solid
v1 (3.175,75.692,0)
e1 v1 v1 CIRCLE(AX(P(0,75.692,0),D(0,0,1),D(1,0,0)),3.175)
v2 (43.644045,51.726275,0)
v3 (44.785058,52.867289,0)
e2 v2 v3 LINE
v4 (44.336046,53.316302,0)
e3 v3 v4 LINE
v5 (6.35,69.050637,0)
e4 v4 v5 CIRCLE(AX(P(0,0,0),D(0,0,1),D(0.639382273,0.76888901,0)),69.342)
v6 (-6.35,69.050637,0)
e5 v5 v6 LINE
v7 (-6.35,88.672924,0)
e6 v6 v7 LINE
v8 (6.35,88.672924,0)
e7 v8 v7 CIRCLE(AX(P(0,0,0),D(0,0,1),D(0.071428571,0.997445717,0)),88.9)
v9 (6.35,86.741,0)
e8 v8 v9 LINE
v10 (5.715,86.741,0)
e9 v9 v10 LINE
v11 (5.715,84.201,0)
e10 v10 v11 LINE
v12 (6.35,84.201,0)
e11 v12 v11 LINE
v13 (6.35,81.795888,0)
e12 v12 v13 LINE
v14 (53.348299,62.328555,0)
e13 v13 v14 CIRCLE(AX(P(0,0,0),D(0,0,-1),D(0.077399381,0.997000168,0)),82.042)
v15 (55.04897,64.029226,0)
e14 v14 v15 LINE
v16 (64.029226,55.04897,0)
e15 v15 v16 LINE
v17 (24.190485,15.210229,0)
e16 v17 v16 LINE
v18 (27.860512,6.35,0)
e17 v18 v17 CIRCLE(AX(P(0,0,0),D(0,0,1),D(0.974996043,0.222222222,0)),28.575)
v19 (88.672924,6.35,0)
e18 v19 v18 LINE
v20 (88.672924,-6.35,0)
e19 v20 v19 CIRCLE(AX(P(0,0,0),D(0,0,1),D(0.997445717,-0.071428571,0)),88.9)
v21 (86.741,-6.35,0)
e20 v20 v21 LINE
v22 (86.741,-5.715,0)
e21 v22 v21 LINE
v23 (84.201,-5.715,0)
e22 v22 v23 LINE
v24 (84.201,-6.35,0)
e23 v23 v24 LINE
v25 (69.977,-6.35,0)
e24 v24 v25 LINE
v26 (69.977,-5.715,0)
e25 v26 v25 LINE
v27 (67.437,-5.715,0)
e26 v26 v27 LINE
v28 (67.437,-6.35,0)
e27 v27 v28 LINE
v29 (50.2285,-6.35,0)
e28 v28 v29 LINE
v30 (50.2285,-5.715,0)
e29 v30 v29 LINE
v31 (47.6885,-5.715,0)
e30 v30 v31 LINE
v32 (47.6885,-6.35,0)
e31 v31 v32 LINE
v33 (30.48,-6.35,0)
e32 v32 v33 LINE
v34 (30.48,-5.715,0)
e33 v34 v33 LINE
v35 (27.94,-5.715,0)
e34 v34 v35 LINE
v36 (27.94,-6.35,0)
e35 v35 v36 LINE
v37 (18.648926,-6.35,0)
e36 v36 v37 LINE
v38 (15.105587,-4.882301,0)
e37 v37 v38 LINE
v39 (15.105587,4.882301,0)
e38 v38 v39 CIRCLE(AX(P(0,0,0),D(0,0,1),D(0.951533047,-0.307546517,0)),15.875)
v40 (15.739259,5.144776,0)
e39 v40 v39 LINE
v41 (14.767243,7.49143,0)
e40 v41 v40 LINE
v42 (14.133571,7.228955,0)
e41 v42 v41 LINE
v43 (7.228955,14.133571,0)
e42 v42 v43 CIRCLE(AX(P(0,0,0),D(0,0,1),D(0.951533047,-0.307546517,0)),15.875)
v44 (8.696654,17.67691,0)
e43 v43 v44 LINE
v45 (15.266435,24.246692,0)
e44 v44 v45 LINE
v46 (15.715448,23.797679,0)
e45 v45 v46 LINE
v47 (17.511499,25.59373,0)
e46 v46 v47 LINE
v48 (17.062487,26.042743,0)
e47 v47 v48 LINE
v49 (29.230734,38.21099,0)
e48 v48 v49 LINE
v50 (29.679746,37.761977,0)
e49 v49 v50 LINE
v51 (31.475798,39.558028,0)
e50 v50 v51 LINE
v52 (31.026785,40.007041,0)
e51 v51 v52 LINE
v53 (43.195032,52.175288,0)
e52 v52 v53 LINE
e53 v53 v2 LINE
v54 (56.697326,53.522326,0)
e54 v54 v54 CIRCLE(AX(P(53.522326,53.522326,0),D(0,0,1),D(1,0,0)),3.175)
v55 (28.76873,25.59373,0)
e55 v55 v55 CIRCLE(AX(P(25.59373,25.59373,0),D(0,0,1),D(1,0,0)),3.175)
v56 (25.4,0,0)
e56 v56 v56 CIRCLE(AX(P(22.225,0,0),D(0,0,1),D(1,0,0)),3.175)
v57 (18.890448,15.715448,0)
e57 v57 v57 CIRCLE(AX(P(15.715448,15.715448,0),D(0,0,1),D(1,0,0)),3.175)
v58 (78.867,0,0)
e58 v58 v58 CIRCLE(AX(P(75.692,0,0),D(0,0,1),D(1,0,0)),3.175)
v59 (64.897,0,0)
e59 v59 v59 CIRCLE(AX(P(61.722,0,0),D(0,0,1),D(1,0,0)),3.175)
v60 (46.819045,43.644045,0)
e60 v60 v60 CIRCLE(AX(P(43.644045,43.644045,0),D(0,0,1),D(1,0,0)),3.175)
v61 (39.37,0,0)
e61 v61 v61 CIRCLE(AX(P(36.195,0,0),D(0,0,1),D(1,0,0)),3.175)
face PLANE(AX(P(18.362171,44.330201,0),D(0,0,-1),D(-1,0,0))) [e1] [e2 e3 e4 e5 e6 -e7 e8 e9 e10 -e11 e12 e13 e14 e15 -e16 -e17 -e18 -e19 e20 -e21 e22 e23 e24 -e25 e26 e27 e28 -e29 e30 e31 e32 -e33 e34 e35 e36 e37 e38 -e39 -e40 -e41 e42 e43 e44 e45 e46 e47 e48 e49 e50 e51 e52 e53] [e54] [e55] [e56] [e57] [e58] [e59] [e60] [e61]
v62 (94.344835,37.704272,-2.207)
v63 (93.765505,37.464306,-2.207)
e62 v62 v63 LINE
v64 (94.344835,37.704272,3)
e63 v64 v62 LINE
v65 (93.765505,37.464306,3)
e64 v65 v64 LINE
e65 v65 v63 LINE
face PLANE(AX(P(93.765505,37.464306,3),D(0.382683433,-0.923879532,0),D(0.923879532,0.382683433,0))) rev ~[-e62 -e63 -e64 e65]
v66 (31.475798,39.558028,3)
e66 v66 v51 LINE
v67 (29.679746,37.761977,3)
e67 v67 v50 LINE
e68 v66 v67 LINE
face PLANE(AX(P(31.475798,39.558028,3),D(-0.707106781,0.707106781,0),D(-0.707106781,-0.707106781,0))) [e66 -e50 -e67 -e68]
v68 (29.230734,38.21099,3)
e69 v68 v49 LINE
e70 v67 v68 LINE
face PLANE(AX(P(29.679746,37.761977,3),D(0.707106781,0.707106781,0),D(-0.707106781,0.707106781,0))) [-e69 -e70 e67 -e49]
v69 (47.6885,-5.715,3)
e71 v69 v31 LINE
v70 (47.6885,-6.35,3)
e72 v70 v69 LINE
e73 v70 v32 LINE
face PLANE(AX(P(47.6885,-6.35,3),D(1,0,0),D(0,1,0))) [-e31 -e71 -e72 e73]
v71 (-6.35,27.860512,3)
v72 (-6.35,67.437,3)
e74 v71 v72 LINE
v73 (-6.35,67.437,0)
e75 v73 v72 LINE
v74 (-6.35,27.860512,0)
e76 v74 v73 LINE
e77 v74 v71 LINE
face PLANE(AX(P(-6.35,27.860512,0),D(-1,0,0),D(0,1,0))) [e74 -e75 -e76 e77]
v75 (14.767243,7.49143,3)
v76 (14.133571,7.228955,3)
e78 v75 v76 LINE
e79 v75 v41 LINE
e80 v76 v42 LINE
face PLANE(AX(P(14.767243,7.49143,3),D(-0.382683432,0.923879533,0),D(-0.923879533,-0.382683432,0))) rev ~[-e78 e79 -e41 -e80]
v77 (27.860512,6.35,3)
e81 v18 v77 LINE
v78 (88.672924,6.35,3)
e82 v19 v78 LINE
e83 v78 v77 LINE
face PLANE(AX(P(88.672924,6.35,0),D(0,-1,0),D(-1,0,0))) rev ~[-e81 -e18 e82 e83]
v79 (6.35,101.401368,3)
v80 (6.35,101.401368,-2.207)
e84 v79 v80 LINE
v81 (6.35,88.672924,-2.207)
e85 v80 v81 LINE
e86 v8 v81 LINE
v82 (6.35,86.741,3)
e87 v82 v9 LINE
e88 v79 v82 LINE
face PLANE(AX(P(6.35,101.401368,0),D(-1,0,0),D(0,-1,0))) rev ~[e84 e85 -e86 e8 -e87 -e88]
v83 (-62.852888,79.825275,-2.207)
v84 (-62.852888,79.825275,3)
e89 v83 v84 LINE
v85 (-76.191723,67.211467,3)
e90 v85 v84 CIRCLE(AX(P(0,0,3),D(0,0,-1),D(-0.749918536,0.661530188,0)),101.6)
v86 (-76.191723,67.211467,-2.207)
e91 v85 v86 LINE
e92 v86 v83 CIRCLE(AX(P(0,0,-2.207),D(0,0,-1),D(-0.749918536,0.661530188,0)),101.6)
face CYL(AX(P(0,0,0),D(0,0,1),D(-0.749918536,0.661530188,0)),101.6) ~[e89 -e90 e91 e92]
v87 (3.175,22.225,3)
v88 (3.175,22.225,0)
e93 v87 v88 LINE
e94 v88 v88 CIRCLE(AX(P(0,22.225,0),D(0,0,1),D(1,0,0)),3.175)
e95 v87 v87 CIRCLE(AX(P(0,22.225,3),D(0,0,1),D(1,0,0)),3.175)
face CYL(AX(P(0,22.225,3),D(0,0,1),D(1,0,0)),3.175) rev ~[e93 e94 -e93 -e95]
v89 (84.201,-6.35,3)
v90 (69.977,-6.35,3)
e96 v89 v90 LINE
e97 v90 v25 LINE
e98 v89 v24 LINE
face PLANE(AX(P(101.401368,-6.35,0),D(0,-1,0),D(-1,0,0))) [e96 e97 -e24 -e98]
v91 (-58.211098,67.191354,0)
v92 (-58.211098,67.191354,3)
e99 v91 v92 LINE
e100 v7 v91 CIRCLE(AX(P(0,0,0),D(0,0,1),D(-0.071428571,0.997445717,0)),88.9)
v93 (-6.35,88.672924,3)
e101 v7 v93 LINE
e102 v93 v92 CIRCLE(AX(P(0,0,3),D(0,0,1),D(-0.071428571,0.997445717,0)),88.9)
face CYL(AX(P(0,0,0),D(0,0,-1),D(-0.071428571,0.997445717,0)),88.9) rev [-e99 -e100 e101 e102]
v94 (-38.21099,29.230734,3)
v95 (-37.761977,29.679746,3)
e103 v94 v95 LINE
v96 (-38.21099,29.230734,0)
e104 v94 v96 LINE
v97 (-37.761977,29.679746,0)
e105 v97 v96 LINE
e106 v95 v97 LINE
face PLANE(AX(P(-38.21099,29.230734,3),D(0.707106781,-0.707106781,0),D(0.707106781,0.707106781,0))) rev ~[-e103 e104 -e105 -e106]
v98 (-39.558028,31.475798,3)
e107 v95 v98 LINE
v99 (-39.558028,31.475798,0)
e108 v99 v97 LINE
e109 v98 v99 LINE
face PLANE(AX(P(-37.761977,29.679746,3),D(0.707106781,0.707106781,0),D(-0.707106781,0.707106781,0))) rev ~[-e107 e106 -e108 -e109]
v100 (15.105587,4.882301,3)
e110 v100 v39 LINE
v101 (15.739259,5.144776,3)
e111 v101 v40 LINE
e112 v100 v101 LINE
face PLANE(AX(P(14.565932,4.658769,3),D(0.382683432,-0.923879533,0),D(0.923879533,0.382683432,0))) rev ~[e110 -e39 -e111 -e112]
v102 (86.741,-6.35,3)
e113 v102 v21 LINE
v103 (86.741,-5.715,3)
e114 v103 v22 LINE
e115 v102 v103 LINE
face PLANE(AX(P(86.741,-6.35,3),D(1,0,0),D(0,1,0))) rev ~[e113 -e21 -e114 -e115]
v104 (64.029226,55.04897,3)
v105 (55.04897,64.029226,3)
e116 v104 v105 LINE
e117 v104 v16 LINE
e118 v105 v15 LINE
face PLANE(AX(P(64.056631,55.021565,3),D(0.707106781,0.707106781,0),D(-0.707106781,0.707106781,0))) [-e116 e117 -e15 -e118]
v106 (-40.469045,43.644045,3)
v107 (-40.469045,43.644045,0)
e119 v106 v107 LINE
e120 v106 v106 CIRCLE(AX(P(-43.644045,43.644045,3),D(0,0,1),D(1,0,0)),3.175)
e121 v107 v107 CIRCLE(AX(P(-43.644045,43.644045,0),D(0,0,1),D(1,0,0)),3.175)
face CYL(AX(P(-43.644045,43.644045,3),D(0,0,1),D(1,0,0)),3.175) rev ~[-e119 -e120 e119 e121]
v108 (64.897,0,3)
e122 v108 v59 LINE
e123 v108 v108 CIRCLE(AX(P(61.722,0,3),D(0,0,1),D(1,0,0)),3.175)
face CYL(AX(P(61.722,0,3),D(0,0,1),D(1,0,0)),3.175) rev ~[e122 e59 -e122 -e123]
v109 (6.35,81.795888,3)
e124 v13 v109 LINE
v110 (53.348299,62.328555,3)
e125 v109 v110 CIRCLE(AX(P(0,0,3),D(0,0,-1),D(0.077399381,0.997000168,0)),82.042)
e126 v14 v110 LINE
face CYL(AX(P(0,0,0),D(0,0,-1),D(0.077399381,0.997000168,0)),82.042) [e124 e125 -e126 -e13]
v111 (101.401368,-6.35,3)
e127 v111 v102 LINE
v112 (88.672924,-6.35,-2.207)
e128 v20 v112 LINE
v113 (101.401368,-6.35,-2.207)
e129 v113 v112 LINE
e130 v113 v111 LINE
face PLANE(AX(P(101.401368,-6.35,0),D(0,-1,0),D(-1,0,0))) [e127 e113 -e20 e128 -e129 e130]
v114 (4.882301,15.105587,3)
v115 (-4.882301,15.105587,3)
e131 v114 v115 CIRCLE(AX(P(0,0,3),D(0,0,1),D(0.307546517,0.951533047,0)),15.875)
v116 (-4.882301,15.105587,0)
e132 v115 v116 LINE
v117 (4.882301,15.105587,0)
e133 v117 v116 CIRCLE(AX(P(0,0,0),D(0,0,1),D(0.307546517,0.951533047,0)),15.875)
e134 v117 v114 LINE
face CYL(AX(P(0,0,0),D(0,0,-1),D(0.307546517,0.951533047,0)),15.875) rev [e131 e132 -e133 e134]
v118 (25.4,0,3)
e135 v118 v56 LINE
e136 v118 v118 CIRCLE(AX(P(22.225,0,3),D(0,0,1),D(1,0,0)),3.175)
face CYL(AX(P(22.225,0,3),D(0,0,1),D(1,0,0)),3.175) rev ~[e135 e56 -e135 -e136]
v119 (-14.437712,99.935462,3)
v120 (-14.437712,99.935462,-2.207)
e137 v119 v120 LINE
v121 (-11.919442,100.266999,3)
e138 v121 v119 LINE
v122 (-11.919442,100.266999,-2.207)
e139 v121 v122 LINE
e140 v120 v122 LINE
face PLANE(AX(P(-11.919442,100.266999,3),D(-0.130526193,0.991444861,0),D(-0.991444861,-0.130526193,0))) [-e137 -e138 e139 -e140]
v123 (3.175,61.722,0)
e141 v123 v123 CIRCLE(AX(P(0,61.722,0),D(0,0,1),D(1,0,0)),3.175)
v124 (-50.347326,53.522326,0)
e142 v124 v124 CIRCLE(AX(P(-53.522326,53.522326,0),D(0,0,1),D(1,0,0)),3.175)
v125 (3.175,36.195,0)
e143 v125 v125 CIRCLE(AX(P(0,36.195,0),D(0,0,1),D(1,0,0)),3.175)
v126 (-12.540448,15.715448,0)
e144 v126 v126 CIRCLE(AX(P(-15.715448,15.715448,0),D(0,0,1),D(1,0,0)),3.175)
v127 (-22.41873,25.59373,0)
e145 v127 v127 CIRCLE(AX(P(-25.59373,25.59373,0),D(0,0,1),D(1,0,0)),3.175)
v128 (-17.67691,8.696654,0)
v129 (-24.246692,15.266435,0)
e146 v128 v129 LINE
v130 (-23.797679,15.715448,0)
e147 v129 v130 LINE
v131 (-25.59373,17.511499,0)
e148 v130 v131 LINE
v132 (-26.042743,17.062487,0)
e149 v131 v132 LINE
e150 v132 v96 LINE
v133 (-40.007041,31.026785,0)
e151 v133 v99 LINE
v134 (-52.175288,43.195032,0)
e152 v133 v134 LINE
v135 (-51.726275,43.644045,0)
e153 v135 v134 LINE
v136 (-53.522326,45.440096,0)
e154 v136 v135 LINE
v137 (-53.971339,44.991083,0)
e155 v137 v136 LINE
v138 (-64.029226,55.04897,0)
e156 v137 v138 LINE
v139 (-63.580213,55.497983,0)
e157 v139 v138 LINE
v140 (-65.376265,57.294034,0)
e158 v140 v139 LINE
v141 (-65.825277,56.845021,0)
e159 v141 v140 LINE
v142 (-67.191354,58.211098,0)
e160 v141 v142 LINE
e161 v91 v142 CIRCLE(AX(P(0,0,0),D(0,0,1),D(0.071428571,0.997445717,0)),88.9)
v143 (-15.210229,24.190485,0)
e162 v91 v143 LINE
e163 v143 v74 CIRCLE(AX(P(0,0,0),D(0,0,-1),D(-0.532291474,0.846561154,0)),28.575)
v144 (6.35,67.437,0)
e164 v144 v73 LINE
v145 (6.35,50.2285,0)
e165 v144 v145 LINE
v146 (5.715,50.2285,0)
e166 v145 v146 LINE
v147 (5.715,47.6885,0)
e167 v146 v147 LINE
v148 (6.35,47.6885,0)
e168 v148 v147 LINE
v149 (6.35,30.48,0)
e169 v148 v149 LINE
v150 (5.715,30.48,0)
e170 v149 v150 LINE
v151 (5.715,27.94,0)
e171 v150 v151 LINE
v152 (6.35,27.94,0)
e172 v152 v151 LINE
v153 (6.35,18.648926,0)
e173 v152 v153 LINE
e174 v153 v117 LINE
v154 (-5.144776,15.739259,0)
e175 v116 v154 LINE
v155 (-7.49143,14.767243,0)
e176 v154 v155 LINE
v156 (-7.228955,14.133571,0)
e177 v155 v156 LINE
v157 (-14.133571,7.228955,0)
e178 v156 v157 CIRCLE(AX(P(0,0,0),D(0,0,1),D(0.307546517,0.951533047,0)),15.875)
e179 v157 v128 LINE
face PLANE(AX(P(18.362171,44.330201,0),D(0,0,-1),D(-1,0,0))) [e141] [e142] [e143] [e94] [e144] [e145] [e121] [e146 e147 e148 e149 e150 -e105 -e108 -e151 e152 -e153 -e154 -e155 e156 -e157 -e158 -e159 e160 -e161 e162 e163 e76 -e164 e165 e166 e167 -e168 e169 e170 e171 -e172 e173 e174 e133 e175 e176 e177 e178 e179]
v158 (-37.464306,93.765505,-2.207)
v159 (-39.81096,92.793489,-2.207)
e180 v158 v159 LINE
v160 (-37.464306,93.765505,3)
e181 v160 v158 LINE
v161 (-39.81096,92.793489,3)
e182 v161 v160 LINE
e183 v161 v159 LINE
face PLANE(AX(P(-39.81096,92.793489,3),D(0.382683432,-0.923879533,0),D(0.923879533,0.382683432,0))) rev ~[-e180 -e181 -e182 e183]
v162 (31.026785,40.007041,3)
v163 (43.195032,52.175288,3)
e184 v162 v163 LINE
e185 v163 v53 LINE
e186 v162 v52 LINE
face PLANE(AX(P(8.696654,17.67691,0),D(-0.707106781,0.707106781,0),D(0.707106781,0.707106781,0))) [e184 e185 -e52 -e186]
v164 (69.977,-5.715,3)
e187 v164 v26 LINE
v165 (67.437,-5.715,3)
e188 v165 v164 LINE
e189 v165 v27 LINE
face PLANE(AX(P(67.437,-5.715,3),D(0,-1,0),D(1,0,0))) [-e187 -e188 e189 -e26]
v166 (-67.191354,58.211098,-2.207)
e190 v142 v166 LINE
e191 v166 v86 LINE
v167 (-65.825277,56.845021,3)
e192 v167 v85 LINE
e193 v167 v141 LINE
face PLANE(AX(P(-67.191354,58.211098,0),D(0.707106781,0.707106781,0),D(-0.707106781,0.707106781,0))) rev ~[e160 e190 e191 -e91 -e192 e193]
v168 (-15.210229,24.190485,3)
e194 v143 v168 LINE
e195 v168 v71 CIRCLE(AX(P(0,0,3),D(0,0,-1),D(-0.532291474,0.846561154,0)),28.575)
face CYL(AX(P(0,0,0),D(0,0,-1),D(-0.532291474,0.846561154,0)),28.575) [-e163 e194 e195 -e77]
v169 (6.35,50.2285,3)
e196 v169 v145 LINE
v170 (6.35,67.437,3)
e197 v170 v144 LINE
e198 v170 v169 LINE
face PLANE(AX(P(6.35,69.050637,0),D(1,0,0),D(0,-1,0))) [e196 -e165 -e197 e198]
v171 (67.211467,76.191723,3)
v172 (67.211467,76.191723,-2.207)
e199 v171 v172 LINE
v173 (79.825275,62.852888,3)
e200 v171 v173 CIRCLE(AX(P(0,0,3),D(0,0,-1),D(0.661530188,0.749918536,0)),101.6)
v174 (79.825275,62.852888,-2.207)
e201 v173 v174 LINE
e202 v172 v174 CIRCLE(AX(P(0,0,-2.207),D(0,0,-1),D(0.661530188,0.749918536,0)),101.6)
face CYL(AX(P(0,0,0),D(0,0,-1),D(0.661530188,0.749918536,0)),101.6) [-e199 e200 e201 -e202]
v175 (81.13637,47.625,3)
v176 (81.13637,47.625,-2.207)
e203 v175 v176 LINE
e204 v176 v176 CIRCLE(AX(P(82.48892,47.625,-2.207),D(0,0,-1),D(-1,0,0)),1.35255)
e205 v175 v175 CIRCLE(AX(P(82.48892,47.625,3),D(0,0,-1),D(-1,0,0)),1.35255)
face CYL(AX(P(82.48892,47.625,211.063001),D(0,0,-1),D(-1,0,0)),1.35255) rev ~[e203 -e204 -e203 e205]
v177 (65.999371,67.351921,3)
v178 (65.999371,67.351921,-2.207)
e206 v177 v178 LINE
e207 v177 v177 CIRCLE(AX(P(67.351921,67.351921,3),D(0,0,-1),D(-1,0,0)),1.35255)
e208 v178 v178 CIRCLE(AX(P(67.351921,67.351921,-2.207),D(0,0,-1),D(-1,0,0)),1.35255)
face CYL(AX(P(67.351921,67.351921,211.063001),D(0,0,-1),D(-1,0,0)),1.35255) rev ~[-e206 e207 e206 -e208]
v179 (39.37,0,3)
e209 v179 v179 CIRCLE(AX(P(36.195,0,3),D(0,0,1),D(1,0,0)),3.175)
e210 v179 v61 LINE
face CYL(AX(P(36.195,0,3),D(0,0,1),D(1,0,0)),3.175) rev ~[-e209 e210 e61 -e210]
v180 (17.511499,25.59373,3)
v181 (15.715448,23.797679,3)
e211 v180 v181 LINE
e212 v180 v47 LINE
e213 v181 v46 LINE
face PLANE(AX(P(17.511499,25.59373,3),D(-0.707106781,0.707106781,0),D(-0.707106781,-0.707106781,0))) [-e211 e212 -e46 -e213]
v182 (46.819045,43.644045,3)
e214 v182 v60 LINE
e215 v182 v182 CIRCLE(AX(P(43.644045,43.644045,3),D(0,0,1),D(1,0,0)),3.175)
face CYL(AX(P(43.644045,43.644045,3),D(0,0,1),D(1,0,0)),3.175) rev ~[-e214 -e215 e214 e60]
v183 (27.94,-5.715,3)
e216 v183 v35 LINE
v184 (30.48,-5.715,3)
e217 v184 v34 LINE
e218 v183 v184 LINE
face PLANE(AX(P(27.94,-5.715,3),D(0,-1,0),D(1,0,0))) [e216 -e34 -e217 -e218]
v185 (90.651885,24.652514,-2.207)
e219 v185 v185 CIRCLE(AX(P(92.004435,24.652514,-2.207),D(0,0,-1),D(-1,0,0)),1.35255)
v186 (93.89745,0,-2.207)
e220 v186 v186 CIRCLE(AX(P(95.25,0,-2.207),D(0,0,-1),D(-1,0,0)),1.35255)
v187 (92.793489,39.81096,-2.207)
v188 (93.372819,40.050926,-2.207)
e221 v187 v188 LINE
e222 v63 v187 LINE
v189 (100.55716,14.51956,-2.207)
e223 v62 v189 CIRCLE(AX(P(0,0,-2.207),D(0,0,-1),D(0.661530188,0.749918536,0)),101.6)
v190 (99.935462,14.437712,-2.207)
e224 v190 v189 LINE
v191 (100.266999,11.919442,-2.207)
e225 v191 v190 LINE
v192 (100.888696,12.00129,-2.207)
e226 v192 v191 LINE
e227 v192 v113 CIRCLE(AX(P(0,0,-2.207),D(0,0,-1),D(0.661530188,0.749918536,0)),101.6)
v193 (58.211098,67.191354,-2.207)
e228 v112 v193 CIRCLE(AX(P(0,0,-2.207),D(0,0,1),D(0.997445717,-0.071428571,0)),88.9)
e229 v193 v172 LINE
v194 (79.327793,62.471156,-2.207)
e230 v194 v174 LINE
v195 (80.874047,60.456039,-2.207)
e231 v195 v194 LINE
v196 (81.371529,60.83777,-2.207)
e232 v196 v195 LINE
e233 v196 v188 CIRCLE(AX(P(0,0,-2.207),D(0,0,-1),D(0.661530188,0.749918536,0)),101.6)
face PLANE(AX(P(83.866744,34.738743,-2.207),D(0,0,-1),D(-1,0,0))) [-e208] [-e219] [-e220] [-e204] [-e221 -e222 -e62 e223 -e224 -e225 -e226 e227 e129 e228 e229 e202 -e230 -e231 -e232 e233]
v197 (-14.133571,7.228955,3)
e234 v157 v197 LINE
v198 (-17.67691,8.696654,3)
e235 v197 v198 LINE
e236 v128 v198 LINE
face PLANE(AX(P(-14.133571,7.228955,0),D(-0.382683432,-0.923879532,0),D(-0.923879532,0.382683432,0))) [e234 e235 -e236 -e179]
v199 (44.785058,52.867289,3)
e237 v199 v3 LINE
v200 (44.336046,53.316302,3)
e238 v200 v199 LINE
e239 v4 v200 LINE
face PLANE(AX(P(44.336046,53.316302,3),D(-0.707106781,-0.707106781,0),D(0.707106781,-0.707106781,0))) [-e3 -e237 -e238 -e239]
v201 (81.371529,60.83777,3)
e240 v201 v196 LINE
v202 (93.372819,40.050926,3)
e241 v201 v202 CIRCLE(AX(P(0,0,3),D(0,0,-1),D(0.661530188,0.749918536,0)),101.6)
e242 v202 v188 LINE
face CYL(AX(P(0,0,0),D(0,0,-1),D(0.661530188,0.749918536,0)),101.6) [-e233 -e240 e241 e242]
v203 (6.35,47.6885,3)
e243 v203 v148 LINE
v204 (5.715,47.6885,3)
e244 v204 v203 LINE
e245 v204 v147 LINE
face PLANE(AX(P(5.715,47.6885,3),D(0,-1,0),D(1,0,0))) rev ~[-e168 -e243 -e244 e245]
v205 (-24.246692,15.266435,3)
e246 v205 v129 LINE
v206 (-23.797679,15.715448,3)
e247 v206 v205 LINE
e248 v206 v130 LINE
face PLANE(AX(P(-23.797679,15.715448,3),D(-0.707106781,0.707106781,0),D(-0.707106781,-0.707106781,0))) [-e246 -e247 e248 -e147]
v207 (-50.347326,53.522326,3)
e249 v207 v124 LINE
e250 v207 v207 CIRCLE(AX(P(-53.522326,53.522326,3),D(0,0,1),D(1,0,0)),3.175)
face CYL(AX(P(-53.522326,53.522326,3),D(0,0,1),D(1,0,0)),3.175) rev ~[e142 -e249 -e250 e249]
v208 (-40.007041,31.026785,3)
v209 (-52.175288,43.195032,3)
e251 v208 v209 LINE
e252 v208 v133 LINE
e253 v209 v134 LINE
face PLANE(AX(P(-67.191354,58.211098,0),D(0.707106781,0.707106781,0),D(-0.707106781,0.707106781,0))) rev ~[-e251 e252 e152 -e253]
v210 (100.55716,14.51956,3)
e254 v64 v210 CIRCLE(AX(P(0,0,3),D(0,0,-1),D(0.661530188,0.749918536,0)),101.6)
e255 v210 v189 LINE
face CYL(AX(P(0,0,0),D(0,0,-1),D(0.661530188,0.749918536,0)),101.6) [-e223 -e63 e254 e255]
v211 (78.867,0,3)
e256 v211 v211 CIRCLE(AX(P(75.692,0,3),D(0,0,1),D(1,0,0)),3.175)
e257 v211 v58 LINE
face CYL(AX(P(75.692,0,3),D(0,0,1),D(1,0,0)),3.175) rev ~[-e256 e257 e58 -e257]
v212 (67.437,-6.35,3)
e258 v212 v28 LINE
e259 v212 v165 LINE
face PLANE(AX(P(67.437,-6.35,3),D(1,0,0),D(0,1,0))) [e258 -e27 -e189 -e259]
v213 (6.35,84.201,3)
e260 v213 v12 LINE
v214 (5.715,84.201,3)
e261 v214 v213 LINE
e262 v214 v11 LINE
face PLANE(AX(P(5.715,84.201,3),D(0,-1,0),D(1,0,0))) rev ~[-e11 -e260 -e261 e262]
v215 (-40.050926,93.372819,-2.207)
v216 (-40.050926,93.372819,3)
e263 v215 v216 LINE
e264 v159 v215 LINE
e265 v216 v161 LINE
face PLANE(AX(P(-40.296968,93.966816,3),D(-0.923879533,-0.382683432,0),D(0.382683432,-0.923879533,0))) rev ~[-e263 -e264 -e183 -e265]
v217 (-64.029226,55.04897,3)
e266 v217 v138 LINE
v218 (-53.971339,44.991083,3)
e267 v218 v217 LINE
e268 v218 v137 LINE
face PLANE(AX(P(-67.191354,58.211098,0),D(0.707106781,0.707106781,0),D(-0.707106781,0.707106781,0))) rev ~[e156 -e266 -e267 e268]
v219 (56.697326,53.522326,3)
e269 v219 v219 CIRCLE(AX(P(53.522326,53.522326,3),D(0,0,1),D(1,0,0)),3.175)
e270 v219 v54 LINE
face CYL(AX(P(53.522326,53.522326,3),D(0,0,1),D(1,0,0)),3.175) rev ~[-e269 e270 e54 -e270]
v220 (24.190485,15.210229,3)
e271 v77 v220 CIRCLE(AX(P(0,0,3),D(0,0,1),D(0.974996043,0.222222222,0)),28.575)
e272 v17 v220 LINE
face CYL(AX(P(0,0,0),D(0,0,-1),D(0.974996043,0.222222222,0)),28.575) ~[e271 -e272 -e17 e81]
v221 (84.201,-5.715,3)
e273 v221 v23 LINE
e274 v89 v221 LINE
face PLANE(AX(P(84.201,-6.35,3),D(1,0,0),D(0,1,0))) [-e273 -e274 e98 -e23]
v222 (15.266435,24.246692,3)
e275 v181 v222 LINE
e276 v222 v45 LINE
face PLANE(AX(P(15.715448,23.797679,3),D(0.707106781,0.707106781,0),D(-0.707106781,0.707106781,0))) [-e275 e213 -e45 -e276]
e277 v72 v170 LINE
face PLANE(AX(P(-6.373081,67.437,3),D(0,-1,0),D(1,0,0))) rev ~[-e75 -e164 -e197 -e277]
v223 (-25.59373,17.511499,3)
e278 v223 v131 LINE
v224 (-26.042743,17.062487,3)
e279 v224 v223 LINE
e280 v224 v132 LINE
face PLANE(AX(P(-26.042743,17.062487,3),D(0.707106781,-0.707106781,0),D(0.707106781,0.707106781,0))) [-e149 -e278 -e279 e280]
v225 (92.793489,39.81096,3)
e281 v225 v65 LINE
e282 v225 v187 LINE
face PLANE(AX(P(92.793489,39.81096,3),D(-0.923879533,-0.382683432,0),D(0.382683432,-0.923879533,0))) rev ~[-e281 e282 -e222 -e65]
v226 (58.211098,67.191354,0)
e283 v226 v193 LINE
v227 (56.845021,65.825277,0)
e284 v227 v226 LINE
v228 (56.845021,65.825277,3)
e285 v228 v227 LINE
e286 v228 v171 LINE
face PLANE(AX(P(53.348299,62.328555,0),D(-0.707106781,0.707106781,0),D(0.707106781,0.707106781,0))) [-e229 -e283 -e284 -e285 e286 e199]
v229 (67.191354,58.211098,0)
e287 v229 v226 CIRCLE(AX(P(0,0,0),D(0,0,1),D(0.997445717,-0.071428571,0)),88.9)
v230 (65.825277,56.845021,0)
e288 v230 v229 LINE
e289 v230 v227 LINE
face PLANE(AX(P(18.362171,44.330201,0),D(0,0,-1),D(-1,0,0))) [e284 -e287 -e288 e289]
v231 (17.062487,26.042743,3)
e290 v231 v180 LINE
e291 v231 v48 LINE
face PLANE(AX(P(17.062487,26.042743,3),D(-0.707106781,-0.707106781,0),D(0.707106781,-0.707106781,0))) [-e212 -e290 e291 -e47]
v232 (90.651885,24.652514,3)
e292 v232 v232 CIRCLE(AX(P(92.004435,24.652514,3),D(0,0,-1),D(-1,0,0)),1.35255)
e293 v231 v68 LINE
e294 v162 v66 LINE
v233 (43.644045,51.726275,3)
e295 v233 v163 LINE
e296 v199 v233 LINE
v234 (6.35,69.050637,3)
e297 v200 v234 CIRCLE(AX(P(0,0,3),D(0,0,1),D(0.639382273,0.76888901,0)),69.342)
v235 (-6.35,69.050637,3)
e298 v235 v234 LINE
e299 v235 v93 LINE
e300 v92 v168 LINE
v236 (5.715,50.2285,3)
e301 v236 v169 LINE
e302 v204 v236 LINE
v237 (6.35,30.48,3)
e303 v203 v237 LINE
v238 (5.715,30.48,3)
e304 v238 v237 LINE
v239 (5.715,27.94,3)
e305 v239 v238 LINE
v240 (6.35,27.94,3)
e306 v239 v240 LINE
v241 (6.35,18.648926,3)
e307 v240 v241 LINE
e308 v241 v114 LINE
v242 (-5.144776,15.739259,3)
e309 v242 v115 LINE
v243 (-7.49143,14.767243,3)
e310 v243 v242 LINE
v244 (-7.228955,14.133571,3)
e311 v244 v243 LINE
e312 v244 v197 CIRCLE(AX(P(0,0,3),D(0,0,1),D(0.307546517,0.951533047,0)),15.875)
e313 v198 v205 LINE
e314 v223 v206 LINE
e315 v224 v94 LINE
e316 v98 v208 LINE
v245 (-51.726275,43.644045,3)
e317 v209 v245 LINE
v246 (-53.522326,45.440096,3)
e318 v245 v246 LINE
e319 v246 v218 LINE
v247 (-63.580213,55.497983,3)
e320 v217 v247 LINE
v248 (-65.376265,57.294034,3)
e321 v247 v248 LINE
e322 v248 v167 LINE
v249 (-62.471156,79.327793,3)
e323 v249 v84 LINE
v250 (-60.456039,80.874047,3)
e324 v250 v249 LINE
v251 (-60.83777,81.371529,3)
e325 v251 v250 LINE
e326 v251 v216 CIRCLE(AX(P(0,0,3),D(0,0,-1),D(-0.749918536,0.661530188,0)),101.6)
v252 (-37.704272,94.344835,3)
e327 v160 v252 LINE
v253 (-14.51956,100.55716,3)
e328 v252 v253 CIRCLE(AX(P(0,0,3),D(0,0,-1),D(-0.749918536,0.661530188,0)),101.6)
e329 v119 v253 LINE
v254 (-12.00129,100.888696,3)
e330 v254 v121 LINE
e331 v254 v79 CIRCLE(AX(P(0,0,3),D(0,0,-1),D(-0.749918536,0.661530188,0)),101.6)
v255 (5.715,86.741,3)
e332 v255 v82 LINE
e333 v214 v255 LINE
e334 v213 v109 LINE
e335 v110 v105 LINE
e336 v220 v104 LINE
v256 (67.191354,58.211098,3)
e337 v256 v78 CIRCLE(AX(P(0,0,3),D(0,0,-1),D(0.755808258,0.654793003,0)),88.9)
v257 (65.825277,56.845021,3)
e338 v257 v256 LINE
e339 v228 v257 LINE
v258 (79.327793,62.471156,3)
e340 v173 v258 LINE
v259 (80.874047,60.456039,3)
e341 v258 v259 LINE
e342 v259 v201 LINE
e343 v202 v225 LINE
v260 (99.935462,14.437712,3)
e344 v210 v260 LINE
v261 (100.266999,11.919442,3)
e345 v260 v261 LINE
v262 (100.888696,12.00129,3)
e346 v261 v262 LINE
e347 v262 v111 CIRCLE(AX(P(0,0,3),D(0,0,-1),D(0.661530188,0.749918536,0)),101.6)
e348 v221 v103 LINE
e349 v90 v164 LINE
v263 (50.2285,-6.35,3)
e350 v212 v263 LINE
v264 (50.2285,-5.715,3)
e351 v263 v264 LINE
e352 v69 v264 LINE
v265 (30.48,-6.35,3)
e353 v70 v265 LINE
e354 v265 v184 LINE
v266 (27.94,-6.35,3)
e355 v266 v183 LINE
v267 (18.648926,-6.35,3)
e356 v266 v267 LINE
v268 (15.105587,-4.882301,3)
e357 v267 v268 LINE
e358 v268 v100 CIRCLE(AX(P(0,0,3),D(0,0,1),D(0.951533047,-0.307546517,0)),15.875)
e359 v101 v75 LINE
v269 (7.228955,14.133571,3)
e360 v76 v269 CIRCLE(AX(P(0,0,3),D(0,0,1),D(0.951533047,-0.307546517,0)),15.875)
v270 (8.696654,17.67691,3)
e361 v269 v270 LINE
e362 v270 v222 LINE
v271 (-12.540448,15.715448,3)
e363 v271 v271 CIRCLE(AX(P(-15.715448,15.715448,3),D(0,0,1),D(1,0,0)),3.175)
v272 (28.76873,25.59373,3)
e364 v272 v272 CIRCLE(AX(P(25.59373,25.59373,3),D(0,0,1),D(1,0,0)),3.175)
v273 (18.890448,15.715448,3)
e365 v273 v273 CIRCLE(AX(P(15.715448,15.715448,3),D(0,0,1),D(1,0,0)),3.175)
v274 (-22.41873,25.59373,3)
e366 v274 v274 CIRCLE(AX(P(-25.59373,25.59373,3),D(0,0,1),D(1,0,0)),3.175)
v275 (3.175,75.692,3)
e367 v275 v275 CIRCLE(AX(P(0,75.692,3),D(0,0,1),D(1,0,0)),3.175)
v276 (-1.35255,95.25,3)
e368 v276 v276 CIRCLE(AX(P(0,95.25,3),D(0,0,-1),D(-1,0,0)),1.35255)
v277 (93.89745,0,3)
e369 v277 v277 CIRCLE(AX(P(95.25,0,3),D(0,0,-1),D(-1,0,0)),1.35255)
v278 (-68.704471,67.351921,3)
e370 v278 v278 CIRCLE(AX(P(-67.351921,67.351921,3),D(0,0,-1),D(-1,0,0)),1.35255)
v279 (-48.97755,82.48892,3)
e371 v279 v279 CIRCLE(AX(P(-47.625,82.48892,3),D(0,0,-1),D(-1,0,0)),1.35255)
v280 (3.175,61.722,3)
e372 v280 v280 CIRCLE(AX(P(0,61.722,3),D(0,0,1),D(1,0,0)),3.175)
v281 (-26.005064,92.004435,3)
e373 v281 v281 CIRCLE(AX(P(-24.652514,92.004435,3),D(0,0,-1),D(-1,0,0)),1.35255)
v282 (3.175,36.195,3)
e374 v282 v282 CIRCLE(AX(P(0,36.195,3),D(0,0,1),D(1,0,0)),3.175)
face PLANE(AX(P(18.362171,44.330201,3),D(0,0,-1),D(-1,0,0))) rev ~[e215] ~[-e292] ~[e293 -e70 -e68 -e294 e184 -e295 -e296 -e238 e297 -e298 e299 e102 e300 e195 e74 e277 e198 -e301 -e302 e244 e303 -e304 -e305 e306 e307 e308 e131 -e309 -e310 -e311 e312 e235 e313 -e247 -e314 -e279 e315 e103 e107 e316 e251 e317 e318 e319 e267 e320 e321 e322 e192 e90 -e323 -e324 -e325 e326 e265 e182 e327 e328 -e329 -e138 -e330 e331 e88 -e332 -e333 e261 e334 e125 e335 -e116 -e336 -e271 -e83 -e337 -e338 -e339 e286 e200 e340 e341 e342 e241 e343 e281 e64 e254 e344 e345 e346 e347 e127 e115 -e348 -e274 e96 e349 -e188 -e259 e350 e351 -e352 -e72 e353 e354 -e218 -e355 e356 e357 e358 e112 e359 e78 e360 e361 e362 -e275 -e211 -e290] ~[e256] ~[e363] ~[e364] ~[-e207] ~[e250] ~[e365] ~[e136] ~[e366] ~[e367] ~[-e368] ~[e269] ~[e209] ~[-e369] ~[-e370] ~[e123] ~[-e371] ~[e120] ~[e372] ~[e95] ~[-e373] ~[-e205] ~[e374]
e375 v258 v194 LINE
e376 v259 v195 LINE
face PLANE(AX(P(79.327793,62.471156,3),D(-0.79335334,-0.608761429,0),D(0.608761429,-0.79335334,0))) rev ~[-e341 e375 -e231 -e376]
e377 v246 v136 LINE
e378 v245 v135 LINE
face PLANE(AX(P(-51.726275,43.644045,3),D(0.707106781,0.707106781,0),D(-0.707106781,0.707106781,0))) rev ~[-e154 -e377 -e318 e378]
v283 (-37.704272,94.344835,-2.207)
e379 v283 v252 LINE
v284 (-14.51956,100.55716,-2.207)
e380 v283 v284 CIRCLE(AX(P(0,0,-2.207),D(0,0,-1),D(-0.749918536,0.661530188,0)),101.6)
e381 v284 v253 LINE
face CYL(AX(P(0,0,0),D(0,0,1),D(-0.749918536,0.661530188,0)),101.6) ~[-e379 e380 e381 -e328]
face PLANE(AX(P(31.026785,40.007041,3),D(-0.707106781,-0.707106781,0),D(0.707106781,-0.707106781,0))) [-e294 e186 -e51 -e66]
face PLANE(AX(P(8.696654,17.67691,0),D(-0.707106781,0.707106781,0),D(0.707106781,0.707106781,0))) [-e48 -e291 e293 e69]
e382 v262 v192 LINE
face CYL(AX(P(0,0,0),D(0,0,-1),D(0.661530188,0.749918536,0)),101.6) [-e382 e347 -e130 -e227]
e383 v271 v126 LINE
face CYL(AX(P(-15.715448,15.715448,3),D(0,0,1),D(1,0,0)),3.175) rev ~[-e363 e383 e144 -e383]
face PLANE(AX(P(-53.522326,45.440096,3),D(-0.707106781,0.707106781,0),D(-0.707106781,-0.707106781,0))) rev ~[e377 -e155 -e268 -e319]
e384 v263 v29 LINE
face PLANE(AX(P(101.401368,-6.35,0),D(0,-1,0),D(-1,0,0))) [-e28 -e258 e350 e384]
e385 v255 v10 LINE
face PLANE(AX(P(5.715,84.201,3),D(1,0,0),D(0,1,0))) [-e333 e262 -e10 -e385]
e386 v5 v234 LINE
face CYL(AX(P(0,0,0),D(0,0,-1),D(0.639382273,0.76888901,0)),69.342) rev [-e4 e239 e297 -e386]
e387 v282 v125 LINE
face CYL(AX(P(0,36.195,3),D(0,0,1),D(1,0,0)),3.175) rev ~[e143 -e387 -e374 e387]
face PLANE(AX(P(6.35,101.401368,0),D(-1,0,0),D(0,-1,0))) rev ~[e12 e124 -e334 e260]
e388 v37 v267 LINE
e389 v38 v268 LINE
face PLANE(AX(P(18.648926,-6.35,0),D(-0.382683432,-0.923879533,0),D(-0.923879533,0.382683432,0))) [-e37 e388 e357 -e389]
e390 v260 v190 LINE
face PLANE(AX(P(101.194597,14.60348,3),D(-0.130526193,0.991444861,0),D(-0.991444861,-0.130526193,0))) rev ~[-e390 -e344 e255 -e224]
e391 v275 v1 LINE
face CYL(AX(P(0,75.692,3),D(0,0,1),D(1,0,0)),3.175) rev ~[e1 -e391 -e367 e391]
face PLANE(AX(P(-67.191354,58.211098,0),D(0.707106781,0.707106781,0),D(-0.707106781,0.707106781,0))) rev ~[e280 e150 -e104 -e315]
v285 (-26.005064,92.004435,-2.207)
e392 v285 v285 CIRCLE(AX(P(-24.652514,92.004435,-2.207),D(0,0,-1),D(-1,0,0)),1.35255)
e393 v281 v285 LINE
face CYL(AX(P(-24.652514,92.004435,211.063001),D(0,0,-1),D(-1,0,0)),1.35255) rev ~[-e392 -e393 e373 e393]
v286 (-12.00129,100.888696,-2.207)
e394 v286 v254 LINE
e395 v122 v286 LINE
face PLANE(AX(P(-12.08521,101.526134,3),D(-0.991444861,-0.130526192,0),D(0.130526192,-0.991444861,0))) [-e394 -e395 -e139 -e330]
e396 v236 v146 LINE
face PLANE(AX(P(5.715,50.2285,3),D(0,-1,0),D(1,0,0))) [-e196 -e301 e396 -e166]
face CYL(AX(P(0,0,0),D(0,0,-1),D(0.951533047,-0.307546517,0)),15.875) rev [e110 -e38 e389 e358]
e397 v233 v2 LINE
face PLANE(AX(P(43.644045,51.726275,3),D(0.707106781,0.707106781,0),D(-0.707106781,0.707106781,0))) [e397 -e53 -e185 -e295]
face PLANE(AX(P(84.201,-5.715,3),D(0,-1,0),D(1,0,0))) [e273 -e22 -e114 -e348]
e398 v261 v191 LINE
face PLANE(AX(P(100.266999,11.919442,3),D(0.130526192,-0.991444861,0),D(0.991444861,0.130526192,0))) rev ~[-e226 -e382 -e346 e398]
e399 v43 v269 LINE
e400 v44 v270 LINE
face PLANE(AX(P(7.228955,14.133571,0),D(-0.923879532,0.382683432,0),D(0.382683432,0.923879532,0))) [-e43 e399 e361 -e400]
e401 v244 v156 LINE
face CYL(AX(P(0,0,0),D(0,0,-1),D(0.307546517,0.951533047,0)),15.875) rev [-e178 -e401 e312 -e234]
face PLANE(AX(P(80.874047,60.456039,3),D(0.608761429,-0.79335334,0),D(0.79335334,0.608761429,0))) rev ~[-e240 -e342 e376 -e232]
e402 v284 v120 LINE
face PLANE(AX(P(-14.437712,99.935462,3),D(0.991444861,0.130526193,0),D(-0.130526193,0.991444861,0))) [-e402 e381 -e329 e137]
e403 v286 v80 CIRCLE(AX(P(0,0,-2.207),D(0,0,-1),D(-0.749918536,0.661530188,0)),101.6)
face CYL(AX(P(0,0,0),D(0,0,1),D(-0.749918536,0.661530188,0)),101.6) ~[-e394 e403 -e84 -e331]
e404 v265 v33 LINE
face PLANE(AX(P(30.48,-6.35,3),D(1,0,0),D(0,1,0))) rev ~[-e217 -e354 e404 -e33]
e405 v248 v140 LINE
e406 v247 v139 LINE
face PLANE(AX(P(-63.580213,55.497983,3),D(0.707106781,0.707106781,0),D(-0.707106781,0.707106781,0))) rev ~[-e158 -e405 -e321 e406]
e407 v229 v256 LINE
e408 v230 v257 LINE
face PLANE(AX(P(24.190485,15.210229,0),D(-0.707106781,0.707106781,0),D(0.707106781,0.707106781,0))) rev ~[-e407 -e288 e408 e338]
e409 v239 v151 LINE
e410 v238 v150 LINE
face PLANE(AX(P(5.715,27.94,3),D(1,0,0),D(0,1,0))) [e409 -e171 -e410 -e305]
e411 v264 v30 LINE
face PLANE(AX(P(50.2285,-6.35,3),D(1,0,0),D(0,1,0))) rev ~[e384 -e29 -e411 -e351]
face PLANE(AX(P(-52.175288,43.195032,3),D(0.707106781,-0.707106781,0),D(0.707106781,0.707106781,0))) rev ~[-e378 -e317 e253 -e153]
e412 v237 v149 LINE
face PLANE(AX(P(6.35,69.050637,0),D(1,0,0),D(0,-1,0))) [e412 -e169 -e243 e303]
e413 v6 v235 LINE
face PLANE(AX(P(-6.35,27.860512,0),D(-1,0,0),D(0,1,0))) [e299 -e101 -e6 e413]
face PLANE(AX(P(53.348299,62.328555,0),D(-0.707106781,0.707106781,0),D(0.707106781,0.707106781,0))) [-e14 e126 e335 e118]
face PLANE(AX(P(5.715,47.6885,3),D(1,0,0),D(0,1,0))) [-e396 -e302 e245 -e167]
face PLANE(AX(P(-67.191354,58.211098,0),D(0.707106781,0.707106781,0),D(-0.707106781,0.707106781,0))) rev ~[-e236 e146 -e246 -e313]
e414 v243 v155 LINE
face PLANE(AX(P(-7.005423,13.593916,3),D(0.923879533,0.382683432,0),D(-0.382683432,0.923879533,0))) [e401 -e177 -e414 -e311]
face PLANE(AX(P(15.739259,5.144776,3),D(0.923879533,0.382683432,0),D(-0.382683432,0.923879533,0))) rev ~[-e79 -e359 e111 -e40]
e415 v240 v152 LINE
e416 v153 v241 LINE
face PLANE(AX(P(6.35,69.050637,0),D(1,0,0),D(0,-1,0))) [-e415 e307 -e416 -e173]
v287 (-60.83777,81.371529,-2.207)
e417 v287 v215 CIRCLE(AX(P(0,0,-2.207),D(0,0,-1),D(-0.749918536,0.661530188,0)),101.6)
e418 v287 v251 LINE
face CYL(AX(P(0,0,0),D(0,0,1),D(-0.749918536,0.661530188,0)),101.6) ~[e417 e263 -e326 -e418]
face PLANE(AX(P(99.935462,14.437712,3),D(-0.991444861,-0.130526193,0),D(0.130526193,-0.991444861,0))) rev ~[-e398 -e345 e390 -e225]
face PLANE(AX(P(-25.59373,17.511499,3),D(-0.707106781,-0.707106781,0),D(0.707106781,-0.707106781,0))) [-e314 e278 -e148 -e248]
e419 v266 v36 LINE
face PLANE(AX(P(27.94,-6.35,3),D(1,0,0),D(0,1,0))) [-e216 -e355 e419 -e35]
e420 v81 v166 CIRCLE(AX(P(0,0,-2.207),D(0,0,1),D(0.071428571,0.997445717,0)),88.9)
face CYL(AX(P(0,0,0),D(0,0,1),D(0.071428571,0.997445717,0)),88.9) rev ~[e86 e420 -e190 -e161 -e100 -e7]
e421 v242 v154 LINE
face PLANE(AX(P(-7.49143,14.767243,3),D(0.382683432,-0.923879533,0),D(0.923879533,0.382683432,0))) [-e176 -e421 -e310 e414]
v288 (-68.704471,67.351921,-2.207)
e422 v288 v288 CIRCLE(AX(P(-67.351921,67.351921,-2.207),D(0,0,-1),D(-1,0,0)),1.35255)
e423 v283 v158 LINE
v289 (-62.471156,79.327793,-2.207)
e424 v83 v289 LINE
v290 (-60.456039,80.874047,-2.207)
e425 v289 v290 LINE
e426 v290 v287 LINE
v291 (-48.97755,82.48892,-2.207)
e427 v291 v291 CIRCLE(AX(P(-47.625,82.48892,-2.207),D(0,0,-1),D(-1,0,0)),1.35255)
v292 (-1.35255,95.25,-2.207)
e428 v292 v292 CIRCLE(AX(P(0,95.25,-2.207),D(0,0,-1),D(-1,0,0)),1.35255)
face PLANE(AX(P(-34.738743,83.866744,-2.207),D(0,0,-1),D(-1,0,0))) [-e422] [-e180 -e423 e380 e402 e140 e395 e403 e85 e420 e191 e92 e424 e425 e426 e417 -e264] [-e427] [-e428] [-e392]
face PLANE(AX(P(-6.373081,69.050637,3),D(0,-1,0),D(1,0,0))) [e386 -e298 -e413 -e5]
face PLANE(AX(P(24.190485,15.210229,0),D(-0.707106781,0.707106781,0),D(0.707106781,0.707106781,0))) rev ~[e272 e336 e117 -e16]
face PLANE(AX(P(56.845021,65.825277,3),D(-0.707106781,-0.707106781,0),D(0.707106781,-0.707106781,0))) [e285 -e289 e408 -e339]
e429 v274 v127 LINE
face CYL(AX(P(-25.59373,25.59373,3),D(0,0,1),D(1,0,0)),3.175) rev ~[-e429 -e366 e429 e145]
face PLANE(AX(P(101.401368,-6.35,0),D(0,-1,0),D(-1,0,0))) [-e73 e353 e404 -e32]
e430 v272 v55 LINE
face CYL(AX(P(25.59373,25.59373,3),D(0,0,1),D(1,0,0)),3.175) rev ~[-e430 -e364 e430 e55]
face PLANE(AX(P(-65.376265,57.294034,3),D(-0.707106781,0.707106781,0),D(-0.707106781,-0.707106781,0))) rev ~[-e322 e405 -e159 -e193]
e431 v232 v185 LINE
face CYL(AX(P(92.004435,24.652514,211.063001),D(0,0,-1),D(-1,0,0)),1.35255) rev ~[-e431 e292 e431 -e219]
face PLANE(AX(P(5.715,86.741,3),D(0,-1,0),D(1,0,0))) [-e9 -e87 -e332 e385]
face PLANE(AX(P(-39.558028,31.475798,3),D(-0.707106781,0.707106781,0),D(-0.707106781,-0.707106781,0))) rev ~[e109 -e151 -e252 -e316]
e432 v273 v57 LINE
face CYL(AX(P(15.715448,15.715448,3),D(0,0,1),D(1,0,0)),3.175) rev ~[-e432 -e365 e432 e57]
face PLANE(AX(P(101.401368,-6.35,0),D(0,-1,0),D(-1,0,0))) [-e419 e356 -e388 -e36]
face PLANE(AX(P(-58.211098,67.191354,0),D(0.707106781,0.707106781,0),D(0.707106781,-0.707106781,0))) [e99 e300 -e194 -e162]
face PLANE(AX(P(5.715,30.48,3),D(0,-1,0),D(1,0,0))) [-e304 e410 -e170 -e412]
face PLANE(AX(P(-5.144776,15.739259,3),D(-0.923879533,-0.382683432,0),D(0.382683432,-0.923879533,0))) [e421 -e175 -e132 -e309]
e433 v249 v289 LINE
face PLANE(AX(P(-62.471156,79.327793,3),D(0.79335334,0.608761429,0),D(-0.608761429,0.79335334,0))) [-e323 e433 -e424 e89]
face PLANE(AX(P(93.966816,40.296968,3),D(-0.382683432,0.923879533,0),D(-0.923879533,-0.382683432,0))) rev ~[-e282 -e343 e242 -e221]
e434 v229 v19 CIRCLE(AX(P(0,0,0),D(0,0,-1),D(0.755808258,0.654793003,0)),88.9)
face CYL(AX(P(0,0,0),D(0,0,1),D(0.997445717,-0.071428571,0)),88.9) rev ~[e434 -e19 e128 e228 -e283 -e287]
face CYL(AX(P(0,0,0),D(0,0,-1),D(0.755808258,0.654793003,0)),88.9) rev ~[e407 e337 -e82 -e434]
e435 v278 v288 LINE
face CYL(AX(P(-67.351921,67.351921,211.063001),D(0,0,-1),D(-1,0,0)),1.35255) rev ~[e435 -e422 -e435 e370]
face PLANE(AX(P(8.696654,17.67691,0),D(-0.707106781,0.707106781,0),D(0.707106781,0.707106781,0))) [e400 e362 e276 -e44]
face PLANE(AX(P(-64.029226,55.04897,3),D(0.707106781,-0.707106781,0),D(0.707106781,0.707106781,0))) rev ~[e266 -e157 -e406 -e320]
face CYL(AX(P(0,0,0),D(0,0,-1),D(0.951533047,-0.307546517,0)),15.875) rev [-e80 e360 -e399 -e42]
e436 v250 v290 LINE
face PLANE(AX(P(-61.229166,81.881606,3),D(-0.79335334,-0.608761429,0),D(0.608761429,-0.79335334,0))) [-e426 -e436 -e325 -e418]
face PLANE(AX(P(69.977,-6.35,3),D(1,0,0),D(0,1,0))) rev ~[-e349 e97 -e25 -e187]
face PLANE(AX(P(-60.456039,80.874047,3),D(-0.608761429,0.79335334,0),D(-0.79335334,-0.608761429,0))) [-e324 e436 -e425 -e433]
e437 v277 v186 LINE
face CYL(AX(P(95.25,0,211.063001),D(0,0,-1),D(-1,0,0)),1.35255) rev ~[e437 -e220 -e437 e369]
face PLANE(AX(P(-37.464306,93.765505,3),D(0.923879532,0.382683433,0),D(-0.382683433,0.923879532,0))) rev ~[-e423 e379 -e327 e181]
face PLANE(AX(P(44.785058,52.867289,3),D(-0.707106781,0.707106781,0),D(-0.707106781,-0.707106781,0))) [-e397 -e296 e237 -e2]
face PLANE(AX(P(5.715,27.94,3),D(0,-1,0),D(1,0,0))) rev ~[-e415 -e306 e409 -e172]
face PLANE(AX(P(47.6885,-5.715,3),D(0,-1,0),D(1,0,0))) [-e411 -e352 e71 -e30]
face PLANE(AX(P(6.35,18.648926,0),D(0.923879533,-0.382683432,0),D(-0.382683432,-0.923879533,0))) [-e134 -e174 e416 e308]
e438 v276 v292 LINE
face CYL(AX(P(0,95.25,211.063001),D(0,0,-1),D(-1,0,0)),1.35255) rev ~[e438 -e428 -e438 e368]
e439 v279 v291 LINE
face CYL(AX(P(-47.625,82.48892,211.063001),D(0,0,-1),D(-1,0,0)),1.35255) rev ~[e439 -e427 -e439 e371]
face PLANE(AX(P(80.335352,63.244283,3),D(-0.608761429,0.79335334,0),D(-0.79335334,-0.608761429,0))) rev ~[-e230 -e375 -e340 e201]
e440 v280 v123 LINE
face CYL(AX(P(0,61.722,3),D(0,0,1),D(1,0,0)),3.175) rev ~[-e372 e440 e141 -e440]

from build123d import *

# Parameters (mm, degrees)
BOSS_EXTRUDE1_DEPTH   = 3.000000096
BOSS_EXTRUDE2_DEPTH   = 2.206999904
SKETCH2_R             = 3.175
CUT_EXTRUDE1_DEPTH    = 6.207
SKETCH3_W             = 2.54
SKETCH3_H             = 0.635
SKETCH3_W_2           = 0.635
SKETCH3_H_2           = 2.54
SKETCH3_W_3           = 12.723081303
SKETCH3_H_3           = 1.613636956
CUT_EXTRUDE2_DEPTH    = 6.207
F_6_32_TAPPED_HOLE1_D = 2.7051


with BuildPart() as part:
    # Sketch1 → Boss-Extrude1 (new body)
    with BuildSketch(Plane.XY):
        with BuildLine():
            Line((8.696654013, 17.676910134), (44.336045576, 53.316301697))
            ThreePointArc((44.336045576, 53.316301697), (26.536034567, 64.063654543), (6.35, 69.050636956))
            Line((6.35, 69.050636956), (6.35, 18.648926052))
            Line((6.35, 18.648926052), (4.88230096, 15.105587123))
            ThreePointArc((4.88230096, 15.105587123), (-6.075099489, 14.666587579), (-14.133571205, 7.228954972))
            Line((-14.133571205, 7.228954972), (-17.676910134, 8.696654013))
            Line((-17.676910134, 8.696654013), (-76.191723231, 67.21146711))
            ThreePointArc((-76.191723231, 67.21146711), (-38.880636728, 93.866160503), (6.35, 101.401368334))
            Line((6.35, 101.401368334), (6.35, 81.795887818))
            ThreePointArc((6.35, 81.795887818), (31.396114158, 75.796924606), (53.348298889, 62.32855501))
            Line((53.348298889, 62.32855501), (67.21146711, 76.191723231))
            ThreePointArc((67.21146711, 76.191723231), (93.866160503, 38.880636728), (101.401368334, -6.35))
            Line((101.401368334, -6.35), (18.648926052, -6.35))
            Line((18.648926052, -6.35), (15.105587123, -4.88230096))
            ThreePointArc((15.105587123, -4.88230096), (14.666587579, 6.075099489), (7.228954972, 14.133571205))
            Line((7.228954972, 14.133571205), (8.696654013, 17.676910134))
        make_face()
        with BuildLine():
            Line((88.672924278, 6.35), (27.86051193, 6.35))
            ThreePointArc((27.86051193, 6.35), (26.399857642, 10.93517908), (24.190484974, 15.210228852))
            Line((24.190484974, 15.210228852), (67.191354125, 58.211098004))
            ThreePointArc((67.191354125, 58.211098004), (82.13289044, 34.020557137), (88.672924278, 6.35))
        make_face(mode=Mode.SUBTRACT)
        with BuildLine():
            Line((-58.211098004, 67.191354125), (-15.210228852, 24.190484974))
            ThreePointArc((-15.210228852, 24.190484974), (-10.93517908, 26.399857642), (-6.35, 27.86051193))
            Line((-6.35, 27.86051193), (-6.35, 88.672924278))
            ThreePointArc((-6.35, 88.672924278), (-34.020557137, 82.13289044), (-58.211098004, 67.191354125))
        make_face(mode=Mode.SUBTRACT)
    extrude(amount=BOSS_EXTRUDE1_DEPTH)

    # Sketch4 → Boss-Extrude2 (add)
    with BuildSketch(Plane(origin=(0, 0, 0), x_dir=(-1, 0, 0), z_dir=(0, 0, -1))):
        with BuildLine():
            Line((67.191354125, 58.211098004), (76.191723231, 67.21146711))
            ThreePointArc((76.191723231, 67.21146711), (38.880636728, 93.866160503), (-6.35, 101.401368334))
            Line((-6.35, 101.401368334), (-6.35, 88.672924278))
            ThreePointArc((-6.35, 88.672924278), (34.020557137, 82.13289044), (67.191354125, 58.211098004))
        make_face()
        with BuildLine():
            Line((-58.211098004, 67.191354125), (-67.21146711, 76.191723231))
            ThreePointArc((-67.21146711, 76.191723231), (-93.866160503, 38.880636728), (-101.401368334, -6.35))
            Line((-101.401368334, -6.35), (-88.672924278, -6.35))
            ThreePointArc((-88.672924278, -6.35), (-82.13289044, 34.020557137), (-58.211098004, 67.191354125))
        make_face()
    extrude(amount=BOSS_EXTRUDE2_DEPTH)

    # Sketch2 → Cut-Extrude1 (cut, through all)
    with BuildSketch(Plane.XY.offset(3.000000096)):
        with Locations((22.225, 0)):
            Circle(SKETCH2_R)
        with Locations((36.195, 0)):
            Circle(SKETCH2_R)
        with Locations((61.722, 0)):
            Circle(SKETCH2_R)
        with Locations((75.692, 0)):
            Circle(SKETCH2_R)
        with Locations((53.522326482, 53.522326482)):
            Circle(SKETCH2_R)
        with Locations((43.644044748, 43.644044748)):
            Circle(SKETCH2_R)
        with Locations((25.593729945, 25.593729945)):
            Circle(SKETCH2_R)
        with Locations((15.715448212, 15.715448212)):
            Circle(SKETCH2_R)
        with Locations((0, 75.692)):
            Circle(SKETCH2_R)
        with Locations((0, 61.722)):
            Circle(SKETCH2_R)
        with Locations((0, 36.195)):
            Circle(SKETCH2_R)
        with Locations((0, 22.225)):
            Circle(SKETCH2_R)
        with Locations((-53.522326482, 53.522326482)):
            Circle(SKETCH2_R)
        with Locations((-43.644044748, 43.644044748)):
            Circle(SKETCH2_R)
        with Locations((-25.593729945, 25.593729945)):
            Circle(SKETCH2_R)
        with Locations((-15.715448212, 15.715448212)):
            Circle(SKETCH2_R)
    extrude(amount=-CUT_EXTRUDE1_DEPTH, mode=Mode.SUBTRACT)

    # Sketch3 → Cut-Extrude2 (cut, through all)
    with BuildSketch(Plane.XY.offset(3.000000096)):
        Polygon((15.266435406, 24.246691527), (17.06248663, 26.042742751), (17.511499436, 25.593729945), (15.715448212, 23.797678721), align=None)
        Polygon((55.048970022, 64.029226143), (56.845021246, 65.825277367), (65.85268206, 56.817616554), (64.056630836, 55.02156533), align=None)
        Polygon((29.230733674, 38.210989795), (31.026784898, 40.007041019), (31.475797704, 39.558028213), (29.67974648, 37.761976989), align=None)
        with Locations((29.21, -6.0325)):
            Rectangle(SKETCH3_W, SKETCH3_H)
        with Locations((68.707, -6.0325)):
            Rectangle(SKETCH3_W, SKETCH3_H)
        Polygon((-65.825277367, 56.845021246), (-64.029226143, 55.048970022), (-63.580213337, 55.497982828), (-65.376264561, 57.294034052), align=None)
        Polygon((43.195031942, 52.175288063), (44.336045576, 53.316301697), (44.785058382, 52.867288891), (43.644044748, 51.726275257), align=None)
        with Locations((48.9585, -6.0325)):
            Rectangle(SKETCH3_W, SKETCH3_H)
        with Locations((85.471, -6.0325)):
            Rectangle(SKETCH3_W, SKETCH3_H)
        Polygon((99.935462164, 14.437711971), (100.266998693, 11.919442024), (101.526133667, 12.085210288), (101.194597138, 14.603480236), align=None)
        Polygon((93.765504959, 37.464305742), (94.938831965, 37.950313702), (93.966816047, 40.296967714), (92.793489041, 39.810959755), align=None)
        Polygon((79.327792988, 62.471156422), (80.874047017, 60.456038938), (81.88160576, 61.229165953), (80.33535173, 63.244283437), align=None)
        Polygon((13.593916116, 7.005422516), (14.565932035, 4.658768503), (15.739259041, 5.144776462), (14.767243123, 7.491430475), align=None)
        Polygon((-24.246691527, 15.266435406), (-26.042742751, 17.06248663), (-25.593729945, 17.511499436), (-23.797678721, 15.715448212), align=None)
        Polygon((-40.007041019, 31.026784898), (-38.210989795, 29.230733674), (-37.761976989, 29.67974648), (-39.558028213, 31.475797704), align=None)
        Polygon((-63.244283437, 80.33535173), (-61.229165953, 81.88160576), (-60.456038938, 80.874047017), (-62.471156422, 79.327792988), align=None)
        Polygon((-37.950313702, 94.938831965), (-40.296967714, 93.966816047), (-39.810959755, 92.793489041), (-37.464305742, 93.765504959), align=None)
        Polygon((-14.437711971, 99.935462164), (-14.603480236, 101.194597138), (-12.085210288, 101.526133667), (-11.919442024, 100.266998693), align=None)
        with Locations((6.0325, 85.471)):
            Rectangle(SKETCH3_W_2, SKETCH3_H_2)
        with Locations((6.0325, 48.9585)):
            Rectangle(SKETCH3_W_2, SKETCH3_H_2)
        with Locations((6.0325, 29.21)):
            Rectangle(SKETCH3_W_2, SKETCH3_H_2)
        Polygon((-7.491430475, 14.767243123), (-5.144776462, 15.739259041), (-4.658768503, 14.565932035), (-7.005422516, 13.593916116), align=None)
        with Locations((-0.011540651, 68.243818478)):
            Rectangle(SKETCH3_W_3, SKETCH3_H_3)
        Polygon((-53.971339288, 44.991083167), (-52.175288063, 43.195031942), (-51.726275257, 43.644044748), (-53.522326482, 45.440095973), align=None)
    extrude(amount=-CUT_EXTRUDE2_DEPTH, mode=Mode.SUBTRACT)

    # #6-32 Tapped Hole1 (through all)
    with Locations(Plane.XY.offset(3.000000096)):
        with Locations((95.25, 0), (92.004434954, 24.652514046), (82.48891971, 47.625), (67.351920908, 67.351920908), (47.625, 82.48891971), (24.652514046, 92.004434954), (0, 95.25), (-24.652514046, 92.004434954), (-47.625, 82.48891971), (-67.351920908, 67.351920908)):
            Hole(F_6_32_TAPPED_HOLE1_D / 2)


solid = part.part
